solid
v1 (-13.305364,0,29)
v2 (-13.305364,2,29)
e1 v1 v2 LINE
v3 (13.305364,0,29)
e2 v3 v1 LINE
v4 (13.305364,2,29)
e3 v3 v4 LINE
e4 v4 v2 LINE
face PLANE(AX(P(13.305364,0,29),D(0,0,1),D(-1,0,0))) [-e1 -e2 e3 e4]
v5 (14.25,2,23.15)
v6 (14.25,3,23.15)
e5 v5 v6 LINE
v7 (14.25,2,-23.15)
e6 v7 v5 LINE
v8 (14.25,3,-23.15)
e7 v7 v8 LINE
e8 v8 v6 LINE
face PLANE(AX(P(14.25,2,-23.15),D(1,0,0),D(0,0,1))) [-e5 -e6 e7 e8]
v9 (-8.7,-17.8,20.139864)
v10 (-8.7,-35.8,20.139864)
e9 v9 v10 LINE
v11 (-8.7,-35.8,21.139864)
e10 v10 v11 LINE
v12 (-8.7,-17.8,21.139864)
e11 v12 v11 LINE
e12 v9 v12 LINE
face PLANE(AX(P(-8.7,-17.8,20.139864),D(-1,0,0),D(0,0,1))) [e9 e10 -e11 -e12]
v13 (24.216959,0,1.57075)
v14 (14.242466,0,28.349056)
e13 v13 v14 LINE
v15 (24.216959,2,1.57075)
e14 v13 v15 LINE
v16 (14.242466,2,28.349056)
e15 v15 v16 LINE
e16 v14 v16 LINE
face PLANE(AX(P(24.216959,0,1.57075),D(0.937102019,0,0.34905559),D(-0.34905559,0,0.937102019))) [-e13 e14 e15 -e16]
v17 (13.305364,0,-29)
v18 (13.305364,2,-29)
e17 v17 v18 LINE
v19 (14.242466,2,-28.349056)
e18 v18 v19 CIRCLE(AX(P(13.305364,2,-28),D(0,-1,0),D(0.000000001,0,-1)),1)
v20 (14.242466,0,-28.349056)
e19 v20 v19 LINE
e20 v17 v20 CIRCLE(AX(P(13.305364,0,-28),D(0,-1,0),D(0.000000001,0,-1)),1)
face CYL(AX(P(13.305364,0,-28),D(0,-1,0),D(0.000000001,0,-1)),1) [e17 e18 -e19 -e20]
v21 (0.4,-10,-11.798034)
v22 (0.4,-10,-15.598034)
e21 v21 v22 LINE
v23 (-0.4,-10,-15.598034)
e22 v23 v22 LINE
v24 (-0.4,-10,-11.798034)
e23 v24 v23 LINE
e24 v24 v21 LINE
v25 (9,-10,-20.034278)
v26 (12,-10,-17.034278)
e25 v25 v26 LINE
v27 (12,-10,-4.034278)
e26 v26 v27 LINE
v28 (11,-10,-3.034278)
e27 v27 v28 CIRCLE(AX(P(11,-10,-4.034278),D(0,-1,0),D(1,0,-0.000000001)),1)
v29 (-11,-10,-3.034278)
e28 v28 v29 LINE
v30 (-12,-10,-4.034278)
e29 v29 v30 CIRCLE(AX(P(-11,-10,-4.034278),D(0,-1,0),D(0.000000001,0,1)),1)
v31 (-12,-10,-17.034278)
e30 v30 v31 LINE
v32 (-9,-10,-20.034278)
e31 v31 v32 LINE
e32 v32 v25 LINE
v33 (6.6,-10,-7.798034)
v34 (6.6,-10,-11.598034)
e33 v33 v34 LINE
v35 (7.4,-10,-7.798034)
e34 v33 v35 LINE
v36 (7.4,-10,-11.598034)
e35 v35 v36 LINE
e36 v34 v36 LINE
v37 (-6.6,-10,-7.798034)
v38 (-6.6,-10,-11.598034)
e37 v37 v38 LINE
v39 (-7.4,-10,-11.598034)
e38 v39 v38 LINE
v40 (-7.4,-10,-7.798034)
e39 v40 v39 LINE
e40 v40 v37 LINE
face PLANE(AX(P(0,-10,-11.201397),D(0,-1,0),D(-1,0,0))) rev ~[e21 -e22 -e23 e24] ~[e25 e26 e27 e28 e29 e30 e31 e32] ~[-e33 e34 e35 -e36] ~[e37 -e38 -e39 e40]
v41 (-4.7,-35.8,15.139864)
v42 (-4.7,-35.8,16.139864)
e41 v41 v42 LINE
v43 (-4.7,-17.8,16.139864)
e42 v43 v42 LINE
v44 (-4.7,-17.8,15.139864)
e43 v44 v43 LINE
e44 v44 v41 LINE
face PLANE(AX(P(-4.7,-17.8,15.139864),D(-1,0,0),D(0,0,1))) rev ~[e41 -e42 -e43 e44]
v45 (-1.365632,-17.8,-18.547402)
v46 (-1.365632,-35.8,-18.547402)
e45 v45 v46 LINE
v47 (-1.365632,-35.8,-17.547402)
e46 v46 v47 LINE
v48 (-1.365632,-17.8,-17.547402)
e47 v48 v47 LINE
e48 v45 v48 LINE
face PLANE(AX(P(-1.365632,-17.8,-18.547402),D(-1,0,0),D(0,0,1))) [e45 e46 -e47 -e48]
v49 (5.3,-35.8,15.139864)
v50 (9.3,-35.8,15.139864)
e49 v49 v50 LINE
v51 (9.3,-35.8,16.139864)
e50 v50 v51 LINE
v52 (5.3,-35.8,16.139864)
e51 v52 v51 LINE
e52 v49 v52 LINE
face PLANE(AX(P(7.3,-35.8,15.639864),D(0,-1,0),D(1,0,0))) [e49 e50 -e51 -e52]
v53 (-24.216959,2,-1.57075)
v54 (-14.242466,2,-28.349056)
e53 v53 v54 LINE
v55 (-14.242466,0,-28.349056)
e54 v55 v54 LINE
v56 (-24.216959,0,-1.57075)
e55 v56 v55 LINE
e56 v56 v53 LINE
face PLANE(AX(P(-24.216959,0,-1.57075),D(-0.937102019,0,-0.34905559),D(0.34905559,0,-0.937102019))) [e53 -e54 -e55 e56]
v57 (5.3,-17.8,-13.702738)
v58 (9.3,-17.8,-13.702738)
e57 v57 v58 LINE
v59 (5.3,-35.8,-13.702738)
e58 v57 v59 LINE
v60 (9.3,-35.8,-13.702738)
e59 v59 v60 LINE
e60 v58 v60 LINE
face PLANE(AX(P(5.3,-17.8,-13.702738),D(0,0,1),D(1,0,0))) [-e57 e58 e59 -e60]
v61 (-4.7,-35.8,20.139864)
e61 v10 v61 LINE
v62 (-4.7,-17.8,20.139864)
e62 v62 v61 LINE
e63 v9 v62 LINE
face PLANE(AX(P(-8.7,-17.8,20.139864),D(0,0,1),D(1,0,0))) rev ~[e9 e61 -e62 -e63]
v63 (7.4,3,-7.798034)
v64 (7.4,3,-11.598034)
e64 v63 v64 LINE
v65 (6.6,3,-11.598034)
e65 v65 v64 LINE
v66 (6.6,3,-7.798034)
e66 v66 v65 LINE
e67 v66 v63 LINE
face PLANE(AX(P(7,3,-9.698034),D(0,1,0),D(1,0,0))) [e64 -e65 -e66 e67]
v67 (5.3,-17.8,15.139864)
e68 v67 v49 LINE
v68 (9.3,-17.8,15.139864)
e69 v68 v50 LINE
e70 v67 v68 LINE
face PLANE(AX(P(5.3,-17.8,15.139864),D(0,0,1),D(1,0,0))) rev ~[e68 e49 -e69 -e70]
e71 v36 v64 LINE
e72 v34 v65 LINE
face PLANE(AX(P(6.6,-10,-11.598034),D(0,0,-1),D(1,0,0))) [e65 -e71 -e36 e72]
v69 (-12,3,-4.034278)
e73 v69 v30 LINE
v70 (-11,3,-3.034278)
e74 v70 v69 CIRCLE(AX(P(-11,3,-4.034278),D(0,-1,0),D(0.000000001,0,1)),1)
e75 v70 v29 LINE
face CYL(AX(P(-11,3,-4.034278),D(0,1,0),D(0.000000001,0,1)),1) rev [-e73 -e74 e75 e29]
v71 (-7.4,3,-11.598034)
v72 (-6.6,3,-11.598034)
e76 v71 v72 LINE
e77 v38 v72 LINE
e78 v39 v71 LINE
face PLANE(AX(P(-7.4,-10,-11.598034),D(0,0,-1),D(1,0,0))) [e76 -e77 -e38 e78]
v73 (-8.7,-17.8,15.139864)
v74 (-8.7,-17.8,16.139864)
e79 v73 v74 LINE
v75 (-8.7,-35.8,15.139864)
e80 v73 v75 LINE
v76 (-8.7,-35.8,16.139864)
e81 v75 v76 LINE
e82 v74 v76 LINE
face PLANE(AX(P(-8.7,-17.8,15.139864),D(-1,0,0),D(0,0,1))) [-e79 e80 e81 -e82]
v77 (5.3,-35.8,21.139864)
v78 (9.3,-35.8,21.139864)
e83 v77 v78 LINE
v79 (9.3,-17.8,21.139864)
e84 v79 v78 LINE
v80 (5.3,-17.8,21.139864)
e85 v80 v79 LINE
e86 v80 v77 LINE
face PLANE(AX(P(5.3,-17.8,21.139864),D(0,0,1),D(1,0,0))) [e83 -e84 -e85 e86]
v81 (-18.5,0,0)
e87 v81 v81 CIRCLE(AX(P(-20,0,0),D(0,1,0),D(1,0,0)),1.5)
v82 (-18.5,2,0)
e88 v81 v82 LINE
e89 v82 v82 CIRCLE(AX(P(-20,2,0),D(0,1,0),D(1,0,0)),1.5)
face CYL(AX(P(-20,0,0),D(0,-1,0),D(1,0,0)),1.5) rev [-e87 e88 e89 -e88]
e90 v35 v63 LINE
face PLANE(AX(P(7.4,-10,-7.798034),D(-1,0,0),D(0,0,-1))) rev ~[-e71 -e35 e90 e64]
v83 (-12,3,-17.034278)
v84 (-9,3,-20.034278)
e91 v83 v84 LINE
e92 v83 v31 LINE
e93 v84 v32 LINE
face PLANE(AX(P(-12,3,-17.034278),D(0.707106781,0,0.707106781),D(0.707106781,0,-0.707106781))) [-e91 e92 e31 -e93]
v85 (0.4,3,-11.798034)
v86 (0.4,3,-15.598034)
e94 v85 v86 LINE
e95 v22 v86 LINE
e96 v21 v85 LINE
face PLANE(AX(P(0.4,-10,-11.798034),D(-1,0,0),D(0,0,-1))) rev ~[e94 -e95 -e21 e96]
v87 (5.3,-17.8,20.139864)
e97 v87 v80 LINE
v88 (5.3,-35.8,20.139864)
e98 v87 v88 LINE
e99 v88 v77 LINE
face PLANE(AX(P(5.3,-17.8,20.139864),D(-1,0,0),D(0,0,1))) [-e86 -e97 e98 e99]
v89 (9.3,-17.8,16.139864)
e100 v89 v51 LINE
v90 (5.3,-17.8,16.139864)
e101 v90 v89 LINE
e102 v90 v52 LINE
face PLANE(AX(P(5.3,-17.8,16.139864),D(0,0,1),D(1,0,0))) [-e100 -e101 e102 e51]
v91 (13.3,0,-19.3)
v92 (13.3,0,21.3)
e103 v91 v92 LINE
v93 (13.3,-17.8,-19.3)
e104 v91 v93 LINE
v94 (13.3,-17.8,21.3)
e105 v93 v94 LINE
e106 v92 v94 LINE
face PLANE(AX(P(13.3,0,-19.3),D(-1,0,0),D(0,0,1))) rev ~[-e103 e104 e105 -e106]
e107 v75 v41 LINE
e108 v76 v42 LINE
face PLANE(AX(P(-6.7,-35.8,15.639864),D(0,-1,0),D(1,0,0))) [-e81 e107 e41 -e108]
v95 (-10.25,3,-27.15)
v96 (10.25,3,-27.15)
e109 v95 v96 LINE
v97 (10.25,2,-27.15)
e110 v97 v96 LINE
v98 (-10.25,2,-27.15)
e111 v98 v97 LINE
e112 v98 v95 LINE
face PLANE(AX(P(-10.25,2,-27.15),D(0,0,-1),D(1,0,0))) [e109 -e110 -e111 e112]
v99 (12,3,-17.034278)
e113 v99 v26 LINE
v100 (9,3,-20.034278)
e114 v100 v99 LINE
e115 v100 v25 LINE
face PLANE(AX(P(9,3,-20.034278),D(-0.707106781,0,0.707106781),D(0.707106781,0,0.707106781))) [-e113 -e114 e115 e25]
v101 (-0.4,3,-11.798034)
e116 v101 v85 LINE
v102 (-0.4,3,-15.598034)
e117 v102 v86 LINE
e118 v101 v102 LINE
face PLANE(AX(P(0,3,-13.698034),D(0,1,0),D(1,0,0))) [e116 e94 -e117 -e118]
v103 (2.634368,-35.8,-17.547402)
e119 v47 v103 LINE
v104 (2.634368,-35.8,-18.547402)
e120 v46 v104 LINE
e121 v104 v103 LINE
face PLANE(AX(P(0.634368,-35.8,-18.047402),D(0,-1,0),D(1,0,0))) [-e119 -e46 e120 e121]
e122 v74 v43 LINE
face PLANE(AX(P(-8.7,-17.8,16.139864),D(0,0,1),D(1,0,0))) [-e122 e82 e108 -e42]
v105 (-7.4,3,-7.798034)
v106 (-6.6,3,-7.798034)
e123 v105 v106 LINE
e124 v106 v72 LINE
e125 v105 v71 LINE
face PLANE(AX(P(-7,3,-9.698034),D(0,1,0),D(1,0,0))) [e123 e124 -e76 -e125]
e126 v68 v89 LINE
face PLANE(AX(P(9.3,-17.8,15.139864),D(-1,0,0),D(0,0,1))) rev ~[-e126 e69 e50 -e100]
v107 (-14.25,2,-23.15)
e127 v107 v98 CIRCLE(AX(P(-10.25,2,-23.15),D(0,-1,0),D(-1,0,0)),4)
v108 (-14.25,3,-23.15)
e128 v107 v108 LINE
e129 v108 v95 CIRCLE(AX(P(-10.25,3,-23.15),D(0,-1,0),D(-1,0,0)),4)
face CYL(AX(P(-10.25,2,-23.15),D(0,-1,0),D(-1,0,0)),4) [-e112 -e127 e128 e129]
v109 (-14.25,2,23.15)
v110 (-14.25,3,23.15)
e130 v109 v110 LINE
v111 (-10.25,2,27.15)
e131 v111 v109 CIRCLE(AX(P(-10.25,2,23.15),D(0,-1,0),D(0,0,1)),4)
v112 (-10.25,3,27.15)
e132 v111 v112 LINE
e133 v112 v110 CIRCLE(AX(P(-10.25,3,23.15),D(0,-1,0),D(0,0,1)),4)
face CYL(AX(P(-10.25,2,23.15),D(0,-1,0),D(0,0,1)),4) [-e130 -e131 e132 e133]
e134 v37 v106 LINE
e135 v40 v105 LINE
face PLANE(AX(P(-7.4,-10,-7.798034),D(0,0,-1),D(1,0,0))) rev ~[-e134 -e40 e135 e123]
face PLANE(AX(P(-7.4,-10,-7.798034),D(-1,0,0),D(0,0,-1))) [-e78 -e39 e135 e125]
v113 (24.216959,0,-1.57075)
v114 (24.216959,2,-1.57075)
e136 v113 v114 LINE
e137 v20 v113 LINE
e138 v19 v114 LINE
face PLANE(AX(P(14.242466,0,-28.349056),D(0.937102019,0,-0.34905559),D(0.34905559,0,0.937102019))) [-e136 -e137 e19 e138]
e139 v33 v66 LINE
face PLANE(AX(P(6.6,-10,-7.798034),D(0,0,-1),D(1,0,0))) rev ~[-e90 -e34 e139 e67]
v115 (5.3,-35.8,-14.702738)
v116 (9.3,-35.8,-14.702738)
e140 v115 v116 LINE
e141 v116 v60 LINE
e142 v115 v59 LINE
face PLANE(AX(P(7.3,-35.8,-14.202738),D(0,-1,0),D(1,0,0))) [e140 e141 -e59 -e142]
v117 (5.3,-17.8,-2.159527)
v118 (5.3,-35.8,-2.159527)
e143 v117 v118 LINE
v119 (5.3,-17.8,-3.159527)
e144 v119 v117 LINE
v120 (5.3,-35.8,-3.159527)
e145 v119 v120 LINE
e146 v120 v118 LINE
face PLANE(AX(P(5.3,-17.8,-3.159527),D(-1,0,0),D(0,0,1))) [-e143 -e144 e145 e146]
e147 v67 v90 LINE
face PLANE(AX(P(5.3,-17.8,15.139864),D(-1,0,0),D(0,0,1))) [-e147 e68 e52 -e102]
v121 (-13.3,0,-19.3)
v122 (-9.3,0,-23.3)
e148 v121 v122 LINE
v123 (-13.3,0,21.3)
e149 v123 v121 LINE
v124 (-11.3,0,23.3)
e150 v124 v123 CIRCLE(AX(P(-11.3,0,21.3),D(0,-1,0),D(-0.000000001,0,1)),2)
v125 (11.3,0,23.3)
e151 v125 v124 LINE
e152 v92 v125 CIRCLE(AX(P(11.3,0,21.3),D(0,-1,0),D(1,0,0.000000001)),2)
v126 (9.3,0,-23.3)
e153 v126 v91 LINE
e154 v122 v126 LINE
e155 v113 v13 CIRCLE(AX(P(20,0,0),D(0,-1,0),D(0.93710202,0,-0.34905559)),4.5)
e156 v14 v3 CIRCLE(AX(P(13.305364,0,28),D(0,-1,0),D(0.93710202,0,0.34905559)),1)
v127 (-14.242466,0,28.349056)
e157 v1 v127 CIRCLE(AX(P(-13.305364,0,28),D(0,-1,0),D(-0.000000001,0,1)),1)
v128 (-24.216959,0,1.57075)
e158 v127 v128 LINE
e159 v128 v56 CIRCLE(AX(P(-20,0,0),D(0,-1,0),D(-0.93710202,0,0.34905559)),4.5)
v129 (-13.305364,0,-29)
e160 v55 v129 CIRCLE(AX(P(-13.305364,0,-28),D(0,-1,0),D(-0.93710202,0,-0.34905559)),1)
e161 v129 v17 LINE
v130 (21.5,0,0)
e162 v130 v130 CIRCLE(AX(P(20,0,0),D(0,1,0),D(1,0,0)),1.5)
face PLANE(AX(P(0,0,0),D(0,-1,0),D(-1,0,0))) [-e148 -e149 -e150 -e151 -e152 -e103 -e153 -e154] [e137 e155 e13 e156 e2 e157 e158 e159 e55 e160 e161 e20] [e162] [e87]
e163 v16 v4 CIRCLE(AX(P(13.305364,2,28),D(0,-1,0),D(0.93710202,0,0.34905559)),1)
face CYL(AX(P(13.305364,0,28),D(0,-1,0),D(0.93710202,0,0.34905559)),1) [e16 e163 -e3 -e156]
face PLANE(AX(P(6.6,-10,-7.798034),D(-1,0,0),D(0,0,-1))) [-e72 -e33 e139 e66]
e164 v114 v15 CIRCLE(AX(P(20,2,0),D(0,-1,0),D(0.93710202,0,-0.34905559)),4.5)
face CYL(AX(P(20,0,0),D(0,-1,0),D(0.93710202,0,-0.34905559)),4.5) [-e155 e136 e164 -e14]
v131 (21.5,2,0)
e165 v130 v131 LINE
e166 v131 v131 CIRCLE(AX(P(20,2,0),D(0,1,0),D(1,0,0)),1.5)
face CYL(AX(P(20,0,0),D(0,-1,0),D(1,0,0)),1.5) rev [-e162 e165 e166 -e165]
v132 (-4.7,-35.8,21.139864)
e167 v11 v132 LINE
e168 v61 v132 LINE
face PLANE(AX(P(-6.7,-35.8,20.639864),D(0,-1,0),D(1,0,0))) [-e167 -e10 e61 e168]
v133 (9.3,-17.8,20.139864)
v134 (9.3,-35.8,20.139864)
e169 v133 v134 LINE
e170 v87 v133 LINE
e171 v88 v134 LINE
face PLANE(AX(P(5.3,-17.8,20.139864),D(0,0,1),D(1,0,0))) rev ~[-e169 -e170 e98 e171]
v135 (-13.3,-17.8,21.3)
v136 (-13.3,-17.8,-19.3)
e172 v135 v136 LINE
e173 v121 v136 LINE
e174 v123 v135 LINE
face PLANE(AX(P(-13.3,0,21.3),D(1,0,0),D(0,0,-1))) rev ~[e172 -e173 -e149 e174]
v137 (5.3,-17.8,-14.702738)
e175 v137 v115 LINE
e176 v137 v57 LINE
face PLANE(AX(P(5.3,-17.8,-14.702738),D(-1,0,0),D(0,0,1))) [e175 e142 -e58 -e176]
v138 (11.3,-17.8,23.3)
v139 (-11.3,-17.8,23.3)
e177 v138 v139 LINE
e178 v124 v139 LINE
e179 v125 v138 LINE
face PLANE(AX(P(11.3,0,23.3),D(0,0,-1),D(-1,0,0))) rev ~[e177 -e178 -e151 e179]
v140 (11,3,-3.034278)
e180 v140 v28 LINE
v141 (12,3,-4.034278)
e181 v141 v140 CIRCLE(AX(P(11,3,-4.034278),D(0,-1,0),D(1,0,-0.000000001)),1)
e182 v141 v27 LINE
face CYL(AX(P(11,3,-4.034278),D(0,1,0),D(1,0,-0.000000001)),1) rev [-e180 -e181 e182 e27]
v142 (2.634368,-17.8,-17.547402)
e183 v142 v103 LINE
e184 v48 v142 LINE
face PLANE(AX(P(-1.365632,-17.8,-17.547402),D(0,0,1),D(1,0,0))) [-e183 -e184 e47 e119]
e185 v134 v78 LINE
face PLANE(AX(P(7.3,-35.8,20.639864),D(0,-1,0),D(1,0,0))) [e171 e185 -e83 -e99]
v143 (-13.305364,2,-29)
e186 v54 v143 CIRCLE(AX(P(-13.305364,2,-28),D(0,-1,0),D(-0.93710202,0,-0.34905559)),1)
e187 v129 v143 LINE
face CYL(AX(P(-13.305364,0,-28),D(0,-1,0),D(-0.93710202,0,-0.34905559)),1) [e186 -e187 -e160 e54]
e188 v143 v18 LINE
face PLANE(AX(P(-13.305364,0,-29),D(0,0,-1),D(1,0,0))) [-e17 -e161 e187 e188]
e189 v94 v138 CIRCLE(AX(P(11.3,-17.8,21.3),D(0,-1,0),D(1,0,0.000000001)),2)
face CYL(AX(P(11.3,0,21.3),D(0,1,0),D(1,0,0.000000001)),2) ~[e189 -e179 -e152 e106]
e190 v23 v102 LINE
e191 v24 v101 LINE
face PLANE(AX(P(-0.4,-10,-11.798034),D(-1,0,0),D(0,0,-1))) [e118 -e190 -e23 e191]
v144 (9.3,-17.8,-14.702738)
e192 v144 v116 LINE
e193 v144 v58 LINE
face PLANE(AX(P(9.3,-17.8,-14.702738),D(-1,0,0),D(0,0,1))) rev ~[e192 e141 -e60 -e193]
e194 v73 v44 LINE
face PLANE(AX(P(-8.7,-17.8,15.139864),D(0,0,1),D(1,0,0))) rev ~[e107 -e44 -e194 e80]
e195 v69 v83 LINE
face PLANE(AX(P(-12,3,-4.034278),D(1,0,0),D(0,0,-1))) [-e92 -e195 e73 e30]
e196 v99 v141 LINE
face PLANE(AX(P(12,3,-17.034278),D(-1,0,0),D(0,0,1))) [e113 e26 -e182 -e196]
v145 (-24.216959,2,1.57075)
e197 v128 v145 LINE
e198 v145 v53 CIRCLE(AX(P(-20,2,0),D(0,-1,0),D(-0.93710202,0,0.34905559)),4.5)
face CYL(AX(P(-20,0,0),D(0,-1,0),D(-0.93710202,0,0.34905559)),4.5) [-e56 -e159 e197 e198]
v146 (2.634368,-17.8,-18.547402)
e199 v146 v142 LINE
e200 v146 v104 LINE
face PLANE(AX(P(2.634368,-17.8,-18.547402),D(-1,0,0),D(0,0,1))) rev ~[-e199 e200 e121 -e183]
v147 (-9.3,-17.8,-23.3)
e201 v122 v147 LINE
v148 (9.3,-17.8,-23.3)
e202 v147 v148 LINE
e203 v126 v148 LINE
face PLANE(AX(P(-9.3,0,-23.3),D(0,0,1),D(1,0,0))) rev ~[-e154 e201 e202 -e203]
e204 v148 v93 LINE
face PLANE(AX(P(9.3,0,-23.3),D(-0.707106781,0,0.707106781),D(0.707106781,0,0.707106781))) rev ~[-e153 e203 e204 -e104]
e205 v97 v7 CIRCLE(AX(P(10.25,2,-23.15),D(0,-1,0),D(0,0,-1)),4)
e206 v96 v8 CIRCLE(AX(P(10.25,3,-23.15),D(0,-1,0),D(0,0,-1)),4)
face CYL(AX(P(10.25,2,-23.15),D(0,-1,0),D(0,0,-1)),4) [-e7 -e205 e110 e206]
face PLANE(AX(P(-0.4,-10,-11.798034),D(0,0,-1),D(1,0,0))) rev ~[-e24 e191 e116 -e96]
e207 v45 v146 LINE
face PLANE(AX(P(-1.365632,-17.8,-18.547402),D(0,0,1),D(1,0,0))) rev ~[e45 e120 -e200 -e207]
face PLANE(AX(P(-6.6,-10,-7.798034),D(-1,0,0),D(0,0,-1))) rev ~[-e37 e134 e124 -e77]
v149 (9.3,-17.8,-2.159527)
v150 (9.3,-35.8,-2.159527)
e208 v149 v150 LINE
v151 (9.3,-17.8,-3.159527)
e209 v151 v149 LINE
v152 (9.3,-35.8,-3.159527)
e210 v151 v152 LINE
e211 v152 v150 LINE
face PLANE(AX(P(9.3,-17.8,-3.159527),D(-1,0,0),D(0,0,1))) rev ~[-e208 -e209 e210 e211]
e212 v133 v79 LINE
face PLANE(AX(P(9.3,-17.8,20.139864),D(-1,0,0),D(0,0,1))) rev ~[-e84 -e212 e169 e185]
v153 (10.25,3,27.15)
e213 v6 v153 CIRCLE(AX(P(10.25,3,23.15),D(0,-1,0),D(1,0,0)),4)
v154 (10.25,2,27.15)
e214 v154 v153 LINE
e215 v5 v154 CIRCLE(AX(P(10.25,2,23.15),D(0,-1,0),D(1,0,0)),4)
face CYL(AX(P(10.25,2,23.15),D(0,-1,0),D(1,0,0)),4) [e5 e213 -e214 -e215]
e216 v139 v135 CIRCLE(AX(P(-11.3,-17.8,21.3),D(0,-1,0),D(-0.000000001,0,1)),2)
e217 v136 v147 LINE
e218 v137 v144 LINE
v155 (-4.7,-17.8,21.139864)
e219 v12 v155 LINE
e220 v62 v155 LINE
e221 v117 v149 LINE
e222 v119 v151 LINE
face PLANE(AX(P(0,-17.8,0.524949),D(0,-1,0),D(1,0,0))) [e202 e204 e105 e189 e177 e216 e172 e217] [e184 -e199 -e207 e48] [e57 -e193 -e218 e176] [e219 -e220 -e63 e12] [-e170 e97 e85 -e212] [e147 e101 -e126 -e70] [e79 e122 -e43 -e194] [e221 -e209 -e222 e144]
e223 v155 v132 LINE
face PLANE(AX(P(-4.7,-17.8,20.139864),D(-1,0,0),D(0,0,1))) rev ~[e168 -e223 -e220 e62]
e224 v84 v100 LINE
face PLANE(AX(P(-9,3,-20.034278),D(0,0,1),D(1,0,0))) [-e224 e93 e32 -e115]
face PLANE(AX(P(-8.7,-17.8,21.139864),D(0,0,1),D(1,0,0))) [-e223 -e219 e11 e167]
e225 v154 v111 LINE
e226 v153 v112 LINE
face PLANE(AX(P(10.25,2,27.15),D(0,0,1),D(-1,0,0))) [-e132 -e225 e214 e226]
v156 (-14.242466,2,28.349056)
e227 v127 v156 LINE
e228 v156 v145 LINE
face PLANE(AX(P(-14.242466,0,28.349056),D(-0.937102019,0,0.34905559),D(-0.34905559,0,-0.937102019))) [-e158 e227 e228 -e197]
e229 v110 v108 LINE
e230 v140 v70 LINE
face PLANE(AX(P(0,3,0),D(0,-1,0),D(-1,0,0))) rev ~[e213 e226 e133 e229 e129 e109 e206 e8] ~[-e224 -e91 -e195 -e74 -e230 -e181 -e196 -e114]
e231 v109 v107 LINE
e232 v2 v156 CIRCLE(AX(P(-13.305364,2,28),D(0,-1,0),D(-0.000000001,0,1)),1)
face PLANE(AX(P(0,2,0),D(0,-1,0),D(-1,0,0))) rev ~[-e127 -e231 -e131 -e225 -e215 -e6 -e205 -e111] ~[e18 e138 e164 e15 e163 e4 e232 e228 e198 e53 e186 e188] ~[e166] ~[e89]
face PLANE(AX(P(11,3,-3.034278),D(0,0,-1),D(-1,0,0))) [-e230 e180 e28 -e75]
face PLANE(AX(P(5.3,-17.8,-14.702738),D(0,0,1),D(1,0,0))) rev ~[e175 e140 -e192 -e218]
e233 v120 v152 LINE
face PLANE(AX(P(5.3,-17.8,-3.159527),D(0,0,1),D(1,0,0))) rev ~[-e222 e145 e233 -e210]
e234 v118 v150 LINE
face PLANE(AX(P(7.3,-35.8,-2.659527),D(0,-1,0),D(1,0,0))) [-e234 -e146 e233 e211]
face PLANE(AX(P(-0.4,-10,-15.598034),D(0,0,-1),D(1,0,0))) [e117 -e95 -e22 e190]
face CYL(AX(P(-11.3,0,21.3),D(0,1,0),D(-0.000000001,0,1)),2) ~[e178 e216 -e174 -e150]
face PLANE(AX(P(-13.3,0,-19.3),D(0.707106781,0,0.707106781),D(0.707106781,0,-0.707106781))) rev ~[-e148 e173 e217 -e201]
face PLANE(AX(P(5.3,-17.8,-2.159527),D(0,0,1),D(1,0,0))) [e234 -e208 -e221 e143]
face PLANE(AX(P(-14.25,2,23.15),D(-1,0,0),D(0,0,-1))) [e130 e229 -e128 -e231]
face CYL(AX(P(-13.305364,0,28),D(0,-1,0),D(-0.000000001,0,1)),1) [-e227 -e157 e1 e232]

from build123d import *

# Parameters (mm, degrees)
SKETCH_1_R          = 1.5
EXTRUDE_1_DEPTH     = 2
EXTRUDE_2_DEPTH     = 17.8
EXTRUDE_3_DEPTH     = 1
CUT_EXTRUDE_START   = 1
CUT_EXTRUDE_1_DEPTH = 13
SKETCH_5_W          = 0.8
SKETCH_5_H          = 3.8
EXTRUDE_4_DEPTH     = 13
SKETCH_6_W          = 4
SKETCH_6_H          = 1
EXTRUDE_5_DEPTH     = 18


with BuildPart() as part:
    # 草图1 → 凸台-拉伸1 (new body)
    with BuildSketch(Plane(origin=(0, 0, 0), x_dir=(1, 0, 0), z_dir=(0, 1, 0))):
        with BuildLine():
            Line((-24.216959088, 1.570750156), (-14.242466434, 28.34905559))
            ThreePointArc((-14.242466434, 28.34905559), (-13.875866128, 28.821296411), (-13.305364415, 29))
            Line((-13.305364415, 29), (13.305364415, 29))
            ThreePointArc((13.305364415, 29), (13.875866128, 28.821296411), (14.242466434, 28.34905559))
            Line((14.242466434, 28.34905559), (24.216959088, 1.570750156))
            ThreePointArc((24.216959088, 1.570750156), (24.5, 0), (24.216959088, -1.570750156))
            Line((24.216959088, -1.570750156), (14.242466434, -28.34905559))
            ThreePointArc((14.242466434, -28.34905559), (13.875866128, -28.821296411), (13.305364415, -29))
            Line((13.305364415, -29), (-13.305364415, -29))
            ThreePointArc((-13.305364415, -29), (-13.875866128, -28.821296411), (-14.242466434, -28.34905559))
            Line((-14.242466434, -28.34905559), (-24.216959088, -1.570750156))
            ThreePointArc((-24.216959088, -1.570750156), (-24.5, 0), (-24.216959088, 1.570750156))
        make_face()
        with Locations((-20, 0)):
            Circle(SKETCH_1_R, mode=Mode.SUBTRACT)
        with Locations((20, 0)):
            Circle(SKETCH_1_R, mode=Mode.SUBTRACT)
    extrude(amount=EXTRUDE_1_DEPTH)

    # 草图2 → 凸台-拉伸2 (add)
    with BuildSketch(Plane.XZ):
        with BuildLine():
            Line((-13.3, -19.3), (-9.3, -23.3))
            Line((-9.3, -23.3), (9.3, -23.3))
            Line((9.3, -23.3), (13.3, -19.3))
            Line((13.3, -19.3), (13.3, 21.3))
            ThreePointArc((13.3, 21.3), (12.714213562, 22.714213562), (11.3, 23.3))
            Line((11.3, 23.3), (-11.3, 23.3))
            ThreePointArc((-11.3, 23.3), (-12.714213562, 22.714213562), (-13.3, 21.3))
            Line((-13.3, 21.3), (-13.3, -19.3))
        make_face()
    extrude(amount=EXTRUDE_2_DEPTH)

    # 草图4 → 凸台-拉伸3 (add)
    with BuildSketch(Plane(origin=(0, 2, 0), x_dir=(1, 0, 0), z_dir=(0, 1, 0))):
        with BuildLine():
            Line((-10.25, 27.15), (10.25, 27.15))
            ThreePointArc((10.25, 27.15), (13.078427125, 25.978427125), (14.25, 23.15))
            Line((14.25, 23.15), (14.25, -23.15))
            ThreePointArc((14.25, -23.15), (13.078427125, -25.978427125), (10.25, -27.15))
            Line((10.25, -27.15), (-10.25, -27.15))
            ThreePointArc((-10.25, -27.15), (-13.078427125, -25.978427125), (-14.25, -23.15))
            Line((-14.25, -23.15), (-14.25, 23.15))
            ThreePointArc((-14.25, 23.15), (-13.078427125, 25.978427125), (-10.25, 27.15))
        make_face()
    extrude(amount=EXTRUDE_3_DEPTH)

    # 草图3 → 切除-拉伸1 (cut)
    with BuildSketch(Plane(origin=(0, 2, 0), x_dir=(1, 0, 0), z_dir=(0, 1, 0)).offset(CUT_EXTRUDE_START)):
        with BuildLine():
            Line((-9, 20.034278181), (9, 20.034278181))
            Line((9, 20.034278181), (12, 17.034278181))
            Line((12, 17.034278181), (12, 4.034278181))
            ThreePointArc((12, 4.034278181), (11.707106781, 3.327171399), (11, 3.034278181))
            Line((11, 3.034278181), (-11, 3.034278181))
            ThreePointArc((-11, 3.034278181), (-11.707106781, 3.327171399), (-12, 4.034278181))
            Line((-12, 4.034278181), (-12, 17.034278181))
            Line((-12, 17.034278181), (-9, 20.034278181))
        make_face()
    extrude(amount=-CUT_EXTRUDE_1_DEPTH, mode=Mode.SUBTRACT)

    # 草图5 → 凸台-拉伸4 (add)
    with BuildSketch(Plane(origin=(0, -10, 0), x_dir=(1, 0, 0), z_dir=(0, 1, 0))):
        with Locations((-7, 9.698034266)):
            Rectangle(SKETCH_5_W, SKETCH_5_H)
        with Locations((0, 13.698034266)):
            Rectangle(SKETCH_5_W, SKETCH_5_H)
        with Locations((7, 9.698034266)):
            Rectangle(SKETCH_5_W, SKETCH_5_H)
    extrude(amount=EXTRUDE_4_DEPTH)

    # 草图6 → 凸台-拉伸5 (add)
    with BuildSketch(Plane.XZ.offset(17.8)):
        with Locations((7.3, 20.63986364)):
            Rectangle(SKETCH_6_W, SKETCH_6_H)
        with Locations((-6.7, 20.63986364)):
            Rectangle(SKETCH_6_W, SKETCH_6_H)
        with Locations((7.3, 15.63986364)):
            Rectangle(SKETCH_6_W, SKETCH_6_H)
        with Locations((-6.7, 15.63986364)):
            Rectangle(SKETCH_6_W, SKETCH_6_H)
        with Locations((7.3, -2.659527469)):
            Rectangle(SKETCH_6_W, SKETCH_6_H)
        with Locations((7.3, -14.202737865)):
            Rectangle(SKETCH_6_W, SKETCH_6_H)
        with Locations((0.634367625, -18.047402207)):
            Rectangle(SKETCH_6_W, SKETCH_6_H)
    extrude(amount=EXTRUDE_5_DEPTH)


solid = part.part
